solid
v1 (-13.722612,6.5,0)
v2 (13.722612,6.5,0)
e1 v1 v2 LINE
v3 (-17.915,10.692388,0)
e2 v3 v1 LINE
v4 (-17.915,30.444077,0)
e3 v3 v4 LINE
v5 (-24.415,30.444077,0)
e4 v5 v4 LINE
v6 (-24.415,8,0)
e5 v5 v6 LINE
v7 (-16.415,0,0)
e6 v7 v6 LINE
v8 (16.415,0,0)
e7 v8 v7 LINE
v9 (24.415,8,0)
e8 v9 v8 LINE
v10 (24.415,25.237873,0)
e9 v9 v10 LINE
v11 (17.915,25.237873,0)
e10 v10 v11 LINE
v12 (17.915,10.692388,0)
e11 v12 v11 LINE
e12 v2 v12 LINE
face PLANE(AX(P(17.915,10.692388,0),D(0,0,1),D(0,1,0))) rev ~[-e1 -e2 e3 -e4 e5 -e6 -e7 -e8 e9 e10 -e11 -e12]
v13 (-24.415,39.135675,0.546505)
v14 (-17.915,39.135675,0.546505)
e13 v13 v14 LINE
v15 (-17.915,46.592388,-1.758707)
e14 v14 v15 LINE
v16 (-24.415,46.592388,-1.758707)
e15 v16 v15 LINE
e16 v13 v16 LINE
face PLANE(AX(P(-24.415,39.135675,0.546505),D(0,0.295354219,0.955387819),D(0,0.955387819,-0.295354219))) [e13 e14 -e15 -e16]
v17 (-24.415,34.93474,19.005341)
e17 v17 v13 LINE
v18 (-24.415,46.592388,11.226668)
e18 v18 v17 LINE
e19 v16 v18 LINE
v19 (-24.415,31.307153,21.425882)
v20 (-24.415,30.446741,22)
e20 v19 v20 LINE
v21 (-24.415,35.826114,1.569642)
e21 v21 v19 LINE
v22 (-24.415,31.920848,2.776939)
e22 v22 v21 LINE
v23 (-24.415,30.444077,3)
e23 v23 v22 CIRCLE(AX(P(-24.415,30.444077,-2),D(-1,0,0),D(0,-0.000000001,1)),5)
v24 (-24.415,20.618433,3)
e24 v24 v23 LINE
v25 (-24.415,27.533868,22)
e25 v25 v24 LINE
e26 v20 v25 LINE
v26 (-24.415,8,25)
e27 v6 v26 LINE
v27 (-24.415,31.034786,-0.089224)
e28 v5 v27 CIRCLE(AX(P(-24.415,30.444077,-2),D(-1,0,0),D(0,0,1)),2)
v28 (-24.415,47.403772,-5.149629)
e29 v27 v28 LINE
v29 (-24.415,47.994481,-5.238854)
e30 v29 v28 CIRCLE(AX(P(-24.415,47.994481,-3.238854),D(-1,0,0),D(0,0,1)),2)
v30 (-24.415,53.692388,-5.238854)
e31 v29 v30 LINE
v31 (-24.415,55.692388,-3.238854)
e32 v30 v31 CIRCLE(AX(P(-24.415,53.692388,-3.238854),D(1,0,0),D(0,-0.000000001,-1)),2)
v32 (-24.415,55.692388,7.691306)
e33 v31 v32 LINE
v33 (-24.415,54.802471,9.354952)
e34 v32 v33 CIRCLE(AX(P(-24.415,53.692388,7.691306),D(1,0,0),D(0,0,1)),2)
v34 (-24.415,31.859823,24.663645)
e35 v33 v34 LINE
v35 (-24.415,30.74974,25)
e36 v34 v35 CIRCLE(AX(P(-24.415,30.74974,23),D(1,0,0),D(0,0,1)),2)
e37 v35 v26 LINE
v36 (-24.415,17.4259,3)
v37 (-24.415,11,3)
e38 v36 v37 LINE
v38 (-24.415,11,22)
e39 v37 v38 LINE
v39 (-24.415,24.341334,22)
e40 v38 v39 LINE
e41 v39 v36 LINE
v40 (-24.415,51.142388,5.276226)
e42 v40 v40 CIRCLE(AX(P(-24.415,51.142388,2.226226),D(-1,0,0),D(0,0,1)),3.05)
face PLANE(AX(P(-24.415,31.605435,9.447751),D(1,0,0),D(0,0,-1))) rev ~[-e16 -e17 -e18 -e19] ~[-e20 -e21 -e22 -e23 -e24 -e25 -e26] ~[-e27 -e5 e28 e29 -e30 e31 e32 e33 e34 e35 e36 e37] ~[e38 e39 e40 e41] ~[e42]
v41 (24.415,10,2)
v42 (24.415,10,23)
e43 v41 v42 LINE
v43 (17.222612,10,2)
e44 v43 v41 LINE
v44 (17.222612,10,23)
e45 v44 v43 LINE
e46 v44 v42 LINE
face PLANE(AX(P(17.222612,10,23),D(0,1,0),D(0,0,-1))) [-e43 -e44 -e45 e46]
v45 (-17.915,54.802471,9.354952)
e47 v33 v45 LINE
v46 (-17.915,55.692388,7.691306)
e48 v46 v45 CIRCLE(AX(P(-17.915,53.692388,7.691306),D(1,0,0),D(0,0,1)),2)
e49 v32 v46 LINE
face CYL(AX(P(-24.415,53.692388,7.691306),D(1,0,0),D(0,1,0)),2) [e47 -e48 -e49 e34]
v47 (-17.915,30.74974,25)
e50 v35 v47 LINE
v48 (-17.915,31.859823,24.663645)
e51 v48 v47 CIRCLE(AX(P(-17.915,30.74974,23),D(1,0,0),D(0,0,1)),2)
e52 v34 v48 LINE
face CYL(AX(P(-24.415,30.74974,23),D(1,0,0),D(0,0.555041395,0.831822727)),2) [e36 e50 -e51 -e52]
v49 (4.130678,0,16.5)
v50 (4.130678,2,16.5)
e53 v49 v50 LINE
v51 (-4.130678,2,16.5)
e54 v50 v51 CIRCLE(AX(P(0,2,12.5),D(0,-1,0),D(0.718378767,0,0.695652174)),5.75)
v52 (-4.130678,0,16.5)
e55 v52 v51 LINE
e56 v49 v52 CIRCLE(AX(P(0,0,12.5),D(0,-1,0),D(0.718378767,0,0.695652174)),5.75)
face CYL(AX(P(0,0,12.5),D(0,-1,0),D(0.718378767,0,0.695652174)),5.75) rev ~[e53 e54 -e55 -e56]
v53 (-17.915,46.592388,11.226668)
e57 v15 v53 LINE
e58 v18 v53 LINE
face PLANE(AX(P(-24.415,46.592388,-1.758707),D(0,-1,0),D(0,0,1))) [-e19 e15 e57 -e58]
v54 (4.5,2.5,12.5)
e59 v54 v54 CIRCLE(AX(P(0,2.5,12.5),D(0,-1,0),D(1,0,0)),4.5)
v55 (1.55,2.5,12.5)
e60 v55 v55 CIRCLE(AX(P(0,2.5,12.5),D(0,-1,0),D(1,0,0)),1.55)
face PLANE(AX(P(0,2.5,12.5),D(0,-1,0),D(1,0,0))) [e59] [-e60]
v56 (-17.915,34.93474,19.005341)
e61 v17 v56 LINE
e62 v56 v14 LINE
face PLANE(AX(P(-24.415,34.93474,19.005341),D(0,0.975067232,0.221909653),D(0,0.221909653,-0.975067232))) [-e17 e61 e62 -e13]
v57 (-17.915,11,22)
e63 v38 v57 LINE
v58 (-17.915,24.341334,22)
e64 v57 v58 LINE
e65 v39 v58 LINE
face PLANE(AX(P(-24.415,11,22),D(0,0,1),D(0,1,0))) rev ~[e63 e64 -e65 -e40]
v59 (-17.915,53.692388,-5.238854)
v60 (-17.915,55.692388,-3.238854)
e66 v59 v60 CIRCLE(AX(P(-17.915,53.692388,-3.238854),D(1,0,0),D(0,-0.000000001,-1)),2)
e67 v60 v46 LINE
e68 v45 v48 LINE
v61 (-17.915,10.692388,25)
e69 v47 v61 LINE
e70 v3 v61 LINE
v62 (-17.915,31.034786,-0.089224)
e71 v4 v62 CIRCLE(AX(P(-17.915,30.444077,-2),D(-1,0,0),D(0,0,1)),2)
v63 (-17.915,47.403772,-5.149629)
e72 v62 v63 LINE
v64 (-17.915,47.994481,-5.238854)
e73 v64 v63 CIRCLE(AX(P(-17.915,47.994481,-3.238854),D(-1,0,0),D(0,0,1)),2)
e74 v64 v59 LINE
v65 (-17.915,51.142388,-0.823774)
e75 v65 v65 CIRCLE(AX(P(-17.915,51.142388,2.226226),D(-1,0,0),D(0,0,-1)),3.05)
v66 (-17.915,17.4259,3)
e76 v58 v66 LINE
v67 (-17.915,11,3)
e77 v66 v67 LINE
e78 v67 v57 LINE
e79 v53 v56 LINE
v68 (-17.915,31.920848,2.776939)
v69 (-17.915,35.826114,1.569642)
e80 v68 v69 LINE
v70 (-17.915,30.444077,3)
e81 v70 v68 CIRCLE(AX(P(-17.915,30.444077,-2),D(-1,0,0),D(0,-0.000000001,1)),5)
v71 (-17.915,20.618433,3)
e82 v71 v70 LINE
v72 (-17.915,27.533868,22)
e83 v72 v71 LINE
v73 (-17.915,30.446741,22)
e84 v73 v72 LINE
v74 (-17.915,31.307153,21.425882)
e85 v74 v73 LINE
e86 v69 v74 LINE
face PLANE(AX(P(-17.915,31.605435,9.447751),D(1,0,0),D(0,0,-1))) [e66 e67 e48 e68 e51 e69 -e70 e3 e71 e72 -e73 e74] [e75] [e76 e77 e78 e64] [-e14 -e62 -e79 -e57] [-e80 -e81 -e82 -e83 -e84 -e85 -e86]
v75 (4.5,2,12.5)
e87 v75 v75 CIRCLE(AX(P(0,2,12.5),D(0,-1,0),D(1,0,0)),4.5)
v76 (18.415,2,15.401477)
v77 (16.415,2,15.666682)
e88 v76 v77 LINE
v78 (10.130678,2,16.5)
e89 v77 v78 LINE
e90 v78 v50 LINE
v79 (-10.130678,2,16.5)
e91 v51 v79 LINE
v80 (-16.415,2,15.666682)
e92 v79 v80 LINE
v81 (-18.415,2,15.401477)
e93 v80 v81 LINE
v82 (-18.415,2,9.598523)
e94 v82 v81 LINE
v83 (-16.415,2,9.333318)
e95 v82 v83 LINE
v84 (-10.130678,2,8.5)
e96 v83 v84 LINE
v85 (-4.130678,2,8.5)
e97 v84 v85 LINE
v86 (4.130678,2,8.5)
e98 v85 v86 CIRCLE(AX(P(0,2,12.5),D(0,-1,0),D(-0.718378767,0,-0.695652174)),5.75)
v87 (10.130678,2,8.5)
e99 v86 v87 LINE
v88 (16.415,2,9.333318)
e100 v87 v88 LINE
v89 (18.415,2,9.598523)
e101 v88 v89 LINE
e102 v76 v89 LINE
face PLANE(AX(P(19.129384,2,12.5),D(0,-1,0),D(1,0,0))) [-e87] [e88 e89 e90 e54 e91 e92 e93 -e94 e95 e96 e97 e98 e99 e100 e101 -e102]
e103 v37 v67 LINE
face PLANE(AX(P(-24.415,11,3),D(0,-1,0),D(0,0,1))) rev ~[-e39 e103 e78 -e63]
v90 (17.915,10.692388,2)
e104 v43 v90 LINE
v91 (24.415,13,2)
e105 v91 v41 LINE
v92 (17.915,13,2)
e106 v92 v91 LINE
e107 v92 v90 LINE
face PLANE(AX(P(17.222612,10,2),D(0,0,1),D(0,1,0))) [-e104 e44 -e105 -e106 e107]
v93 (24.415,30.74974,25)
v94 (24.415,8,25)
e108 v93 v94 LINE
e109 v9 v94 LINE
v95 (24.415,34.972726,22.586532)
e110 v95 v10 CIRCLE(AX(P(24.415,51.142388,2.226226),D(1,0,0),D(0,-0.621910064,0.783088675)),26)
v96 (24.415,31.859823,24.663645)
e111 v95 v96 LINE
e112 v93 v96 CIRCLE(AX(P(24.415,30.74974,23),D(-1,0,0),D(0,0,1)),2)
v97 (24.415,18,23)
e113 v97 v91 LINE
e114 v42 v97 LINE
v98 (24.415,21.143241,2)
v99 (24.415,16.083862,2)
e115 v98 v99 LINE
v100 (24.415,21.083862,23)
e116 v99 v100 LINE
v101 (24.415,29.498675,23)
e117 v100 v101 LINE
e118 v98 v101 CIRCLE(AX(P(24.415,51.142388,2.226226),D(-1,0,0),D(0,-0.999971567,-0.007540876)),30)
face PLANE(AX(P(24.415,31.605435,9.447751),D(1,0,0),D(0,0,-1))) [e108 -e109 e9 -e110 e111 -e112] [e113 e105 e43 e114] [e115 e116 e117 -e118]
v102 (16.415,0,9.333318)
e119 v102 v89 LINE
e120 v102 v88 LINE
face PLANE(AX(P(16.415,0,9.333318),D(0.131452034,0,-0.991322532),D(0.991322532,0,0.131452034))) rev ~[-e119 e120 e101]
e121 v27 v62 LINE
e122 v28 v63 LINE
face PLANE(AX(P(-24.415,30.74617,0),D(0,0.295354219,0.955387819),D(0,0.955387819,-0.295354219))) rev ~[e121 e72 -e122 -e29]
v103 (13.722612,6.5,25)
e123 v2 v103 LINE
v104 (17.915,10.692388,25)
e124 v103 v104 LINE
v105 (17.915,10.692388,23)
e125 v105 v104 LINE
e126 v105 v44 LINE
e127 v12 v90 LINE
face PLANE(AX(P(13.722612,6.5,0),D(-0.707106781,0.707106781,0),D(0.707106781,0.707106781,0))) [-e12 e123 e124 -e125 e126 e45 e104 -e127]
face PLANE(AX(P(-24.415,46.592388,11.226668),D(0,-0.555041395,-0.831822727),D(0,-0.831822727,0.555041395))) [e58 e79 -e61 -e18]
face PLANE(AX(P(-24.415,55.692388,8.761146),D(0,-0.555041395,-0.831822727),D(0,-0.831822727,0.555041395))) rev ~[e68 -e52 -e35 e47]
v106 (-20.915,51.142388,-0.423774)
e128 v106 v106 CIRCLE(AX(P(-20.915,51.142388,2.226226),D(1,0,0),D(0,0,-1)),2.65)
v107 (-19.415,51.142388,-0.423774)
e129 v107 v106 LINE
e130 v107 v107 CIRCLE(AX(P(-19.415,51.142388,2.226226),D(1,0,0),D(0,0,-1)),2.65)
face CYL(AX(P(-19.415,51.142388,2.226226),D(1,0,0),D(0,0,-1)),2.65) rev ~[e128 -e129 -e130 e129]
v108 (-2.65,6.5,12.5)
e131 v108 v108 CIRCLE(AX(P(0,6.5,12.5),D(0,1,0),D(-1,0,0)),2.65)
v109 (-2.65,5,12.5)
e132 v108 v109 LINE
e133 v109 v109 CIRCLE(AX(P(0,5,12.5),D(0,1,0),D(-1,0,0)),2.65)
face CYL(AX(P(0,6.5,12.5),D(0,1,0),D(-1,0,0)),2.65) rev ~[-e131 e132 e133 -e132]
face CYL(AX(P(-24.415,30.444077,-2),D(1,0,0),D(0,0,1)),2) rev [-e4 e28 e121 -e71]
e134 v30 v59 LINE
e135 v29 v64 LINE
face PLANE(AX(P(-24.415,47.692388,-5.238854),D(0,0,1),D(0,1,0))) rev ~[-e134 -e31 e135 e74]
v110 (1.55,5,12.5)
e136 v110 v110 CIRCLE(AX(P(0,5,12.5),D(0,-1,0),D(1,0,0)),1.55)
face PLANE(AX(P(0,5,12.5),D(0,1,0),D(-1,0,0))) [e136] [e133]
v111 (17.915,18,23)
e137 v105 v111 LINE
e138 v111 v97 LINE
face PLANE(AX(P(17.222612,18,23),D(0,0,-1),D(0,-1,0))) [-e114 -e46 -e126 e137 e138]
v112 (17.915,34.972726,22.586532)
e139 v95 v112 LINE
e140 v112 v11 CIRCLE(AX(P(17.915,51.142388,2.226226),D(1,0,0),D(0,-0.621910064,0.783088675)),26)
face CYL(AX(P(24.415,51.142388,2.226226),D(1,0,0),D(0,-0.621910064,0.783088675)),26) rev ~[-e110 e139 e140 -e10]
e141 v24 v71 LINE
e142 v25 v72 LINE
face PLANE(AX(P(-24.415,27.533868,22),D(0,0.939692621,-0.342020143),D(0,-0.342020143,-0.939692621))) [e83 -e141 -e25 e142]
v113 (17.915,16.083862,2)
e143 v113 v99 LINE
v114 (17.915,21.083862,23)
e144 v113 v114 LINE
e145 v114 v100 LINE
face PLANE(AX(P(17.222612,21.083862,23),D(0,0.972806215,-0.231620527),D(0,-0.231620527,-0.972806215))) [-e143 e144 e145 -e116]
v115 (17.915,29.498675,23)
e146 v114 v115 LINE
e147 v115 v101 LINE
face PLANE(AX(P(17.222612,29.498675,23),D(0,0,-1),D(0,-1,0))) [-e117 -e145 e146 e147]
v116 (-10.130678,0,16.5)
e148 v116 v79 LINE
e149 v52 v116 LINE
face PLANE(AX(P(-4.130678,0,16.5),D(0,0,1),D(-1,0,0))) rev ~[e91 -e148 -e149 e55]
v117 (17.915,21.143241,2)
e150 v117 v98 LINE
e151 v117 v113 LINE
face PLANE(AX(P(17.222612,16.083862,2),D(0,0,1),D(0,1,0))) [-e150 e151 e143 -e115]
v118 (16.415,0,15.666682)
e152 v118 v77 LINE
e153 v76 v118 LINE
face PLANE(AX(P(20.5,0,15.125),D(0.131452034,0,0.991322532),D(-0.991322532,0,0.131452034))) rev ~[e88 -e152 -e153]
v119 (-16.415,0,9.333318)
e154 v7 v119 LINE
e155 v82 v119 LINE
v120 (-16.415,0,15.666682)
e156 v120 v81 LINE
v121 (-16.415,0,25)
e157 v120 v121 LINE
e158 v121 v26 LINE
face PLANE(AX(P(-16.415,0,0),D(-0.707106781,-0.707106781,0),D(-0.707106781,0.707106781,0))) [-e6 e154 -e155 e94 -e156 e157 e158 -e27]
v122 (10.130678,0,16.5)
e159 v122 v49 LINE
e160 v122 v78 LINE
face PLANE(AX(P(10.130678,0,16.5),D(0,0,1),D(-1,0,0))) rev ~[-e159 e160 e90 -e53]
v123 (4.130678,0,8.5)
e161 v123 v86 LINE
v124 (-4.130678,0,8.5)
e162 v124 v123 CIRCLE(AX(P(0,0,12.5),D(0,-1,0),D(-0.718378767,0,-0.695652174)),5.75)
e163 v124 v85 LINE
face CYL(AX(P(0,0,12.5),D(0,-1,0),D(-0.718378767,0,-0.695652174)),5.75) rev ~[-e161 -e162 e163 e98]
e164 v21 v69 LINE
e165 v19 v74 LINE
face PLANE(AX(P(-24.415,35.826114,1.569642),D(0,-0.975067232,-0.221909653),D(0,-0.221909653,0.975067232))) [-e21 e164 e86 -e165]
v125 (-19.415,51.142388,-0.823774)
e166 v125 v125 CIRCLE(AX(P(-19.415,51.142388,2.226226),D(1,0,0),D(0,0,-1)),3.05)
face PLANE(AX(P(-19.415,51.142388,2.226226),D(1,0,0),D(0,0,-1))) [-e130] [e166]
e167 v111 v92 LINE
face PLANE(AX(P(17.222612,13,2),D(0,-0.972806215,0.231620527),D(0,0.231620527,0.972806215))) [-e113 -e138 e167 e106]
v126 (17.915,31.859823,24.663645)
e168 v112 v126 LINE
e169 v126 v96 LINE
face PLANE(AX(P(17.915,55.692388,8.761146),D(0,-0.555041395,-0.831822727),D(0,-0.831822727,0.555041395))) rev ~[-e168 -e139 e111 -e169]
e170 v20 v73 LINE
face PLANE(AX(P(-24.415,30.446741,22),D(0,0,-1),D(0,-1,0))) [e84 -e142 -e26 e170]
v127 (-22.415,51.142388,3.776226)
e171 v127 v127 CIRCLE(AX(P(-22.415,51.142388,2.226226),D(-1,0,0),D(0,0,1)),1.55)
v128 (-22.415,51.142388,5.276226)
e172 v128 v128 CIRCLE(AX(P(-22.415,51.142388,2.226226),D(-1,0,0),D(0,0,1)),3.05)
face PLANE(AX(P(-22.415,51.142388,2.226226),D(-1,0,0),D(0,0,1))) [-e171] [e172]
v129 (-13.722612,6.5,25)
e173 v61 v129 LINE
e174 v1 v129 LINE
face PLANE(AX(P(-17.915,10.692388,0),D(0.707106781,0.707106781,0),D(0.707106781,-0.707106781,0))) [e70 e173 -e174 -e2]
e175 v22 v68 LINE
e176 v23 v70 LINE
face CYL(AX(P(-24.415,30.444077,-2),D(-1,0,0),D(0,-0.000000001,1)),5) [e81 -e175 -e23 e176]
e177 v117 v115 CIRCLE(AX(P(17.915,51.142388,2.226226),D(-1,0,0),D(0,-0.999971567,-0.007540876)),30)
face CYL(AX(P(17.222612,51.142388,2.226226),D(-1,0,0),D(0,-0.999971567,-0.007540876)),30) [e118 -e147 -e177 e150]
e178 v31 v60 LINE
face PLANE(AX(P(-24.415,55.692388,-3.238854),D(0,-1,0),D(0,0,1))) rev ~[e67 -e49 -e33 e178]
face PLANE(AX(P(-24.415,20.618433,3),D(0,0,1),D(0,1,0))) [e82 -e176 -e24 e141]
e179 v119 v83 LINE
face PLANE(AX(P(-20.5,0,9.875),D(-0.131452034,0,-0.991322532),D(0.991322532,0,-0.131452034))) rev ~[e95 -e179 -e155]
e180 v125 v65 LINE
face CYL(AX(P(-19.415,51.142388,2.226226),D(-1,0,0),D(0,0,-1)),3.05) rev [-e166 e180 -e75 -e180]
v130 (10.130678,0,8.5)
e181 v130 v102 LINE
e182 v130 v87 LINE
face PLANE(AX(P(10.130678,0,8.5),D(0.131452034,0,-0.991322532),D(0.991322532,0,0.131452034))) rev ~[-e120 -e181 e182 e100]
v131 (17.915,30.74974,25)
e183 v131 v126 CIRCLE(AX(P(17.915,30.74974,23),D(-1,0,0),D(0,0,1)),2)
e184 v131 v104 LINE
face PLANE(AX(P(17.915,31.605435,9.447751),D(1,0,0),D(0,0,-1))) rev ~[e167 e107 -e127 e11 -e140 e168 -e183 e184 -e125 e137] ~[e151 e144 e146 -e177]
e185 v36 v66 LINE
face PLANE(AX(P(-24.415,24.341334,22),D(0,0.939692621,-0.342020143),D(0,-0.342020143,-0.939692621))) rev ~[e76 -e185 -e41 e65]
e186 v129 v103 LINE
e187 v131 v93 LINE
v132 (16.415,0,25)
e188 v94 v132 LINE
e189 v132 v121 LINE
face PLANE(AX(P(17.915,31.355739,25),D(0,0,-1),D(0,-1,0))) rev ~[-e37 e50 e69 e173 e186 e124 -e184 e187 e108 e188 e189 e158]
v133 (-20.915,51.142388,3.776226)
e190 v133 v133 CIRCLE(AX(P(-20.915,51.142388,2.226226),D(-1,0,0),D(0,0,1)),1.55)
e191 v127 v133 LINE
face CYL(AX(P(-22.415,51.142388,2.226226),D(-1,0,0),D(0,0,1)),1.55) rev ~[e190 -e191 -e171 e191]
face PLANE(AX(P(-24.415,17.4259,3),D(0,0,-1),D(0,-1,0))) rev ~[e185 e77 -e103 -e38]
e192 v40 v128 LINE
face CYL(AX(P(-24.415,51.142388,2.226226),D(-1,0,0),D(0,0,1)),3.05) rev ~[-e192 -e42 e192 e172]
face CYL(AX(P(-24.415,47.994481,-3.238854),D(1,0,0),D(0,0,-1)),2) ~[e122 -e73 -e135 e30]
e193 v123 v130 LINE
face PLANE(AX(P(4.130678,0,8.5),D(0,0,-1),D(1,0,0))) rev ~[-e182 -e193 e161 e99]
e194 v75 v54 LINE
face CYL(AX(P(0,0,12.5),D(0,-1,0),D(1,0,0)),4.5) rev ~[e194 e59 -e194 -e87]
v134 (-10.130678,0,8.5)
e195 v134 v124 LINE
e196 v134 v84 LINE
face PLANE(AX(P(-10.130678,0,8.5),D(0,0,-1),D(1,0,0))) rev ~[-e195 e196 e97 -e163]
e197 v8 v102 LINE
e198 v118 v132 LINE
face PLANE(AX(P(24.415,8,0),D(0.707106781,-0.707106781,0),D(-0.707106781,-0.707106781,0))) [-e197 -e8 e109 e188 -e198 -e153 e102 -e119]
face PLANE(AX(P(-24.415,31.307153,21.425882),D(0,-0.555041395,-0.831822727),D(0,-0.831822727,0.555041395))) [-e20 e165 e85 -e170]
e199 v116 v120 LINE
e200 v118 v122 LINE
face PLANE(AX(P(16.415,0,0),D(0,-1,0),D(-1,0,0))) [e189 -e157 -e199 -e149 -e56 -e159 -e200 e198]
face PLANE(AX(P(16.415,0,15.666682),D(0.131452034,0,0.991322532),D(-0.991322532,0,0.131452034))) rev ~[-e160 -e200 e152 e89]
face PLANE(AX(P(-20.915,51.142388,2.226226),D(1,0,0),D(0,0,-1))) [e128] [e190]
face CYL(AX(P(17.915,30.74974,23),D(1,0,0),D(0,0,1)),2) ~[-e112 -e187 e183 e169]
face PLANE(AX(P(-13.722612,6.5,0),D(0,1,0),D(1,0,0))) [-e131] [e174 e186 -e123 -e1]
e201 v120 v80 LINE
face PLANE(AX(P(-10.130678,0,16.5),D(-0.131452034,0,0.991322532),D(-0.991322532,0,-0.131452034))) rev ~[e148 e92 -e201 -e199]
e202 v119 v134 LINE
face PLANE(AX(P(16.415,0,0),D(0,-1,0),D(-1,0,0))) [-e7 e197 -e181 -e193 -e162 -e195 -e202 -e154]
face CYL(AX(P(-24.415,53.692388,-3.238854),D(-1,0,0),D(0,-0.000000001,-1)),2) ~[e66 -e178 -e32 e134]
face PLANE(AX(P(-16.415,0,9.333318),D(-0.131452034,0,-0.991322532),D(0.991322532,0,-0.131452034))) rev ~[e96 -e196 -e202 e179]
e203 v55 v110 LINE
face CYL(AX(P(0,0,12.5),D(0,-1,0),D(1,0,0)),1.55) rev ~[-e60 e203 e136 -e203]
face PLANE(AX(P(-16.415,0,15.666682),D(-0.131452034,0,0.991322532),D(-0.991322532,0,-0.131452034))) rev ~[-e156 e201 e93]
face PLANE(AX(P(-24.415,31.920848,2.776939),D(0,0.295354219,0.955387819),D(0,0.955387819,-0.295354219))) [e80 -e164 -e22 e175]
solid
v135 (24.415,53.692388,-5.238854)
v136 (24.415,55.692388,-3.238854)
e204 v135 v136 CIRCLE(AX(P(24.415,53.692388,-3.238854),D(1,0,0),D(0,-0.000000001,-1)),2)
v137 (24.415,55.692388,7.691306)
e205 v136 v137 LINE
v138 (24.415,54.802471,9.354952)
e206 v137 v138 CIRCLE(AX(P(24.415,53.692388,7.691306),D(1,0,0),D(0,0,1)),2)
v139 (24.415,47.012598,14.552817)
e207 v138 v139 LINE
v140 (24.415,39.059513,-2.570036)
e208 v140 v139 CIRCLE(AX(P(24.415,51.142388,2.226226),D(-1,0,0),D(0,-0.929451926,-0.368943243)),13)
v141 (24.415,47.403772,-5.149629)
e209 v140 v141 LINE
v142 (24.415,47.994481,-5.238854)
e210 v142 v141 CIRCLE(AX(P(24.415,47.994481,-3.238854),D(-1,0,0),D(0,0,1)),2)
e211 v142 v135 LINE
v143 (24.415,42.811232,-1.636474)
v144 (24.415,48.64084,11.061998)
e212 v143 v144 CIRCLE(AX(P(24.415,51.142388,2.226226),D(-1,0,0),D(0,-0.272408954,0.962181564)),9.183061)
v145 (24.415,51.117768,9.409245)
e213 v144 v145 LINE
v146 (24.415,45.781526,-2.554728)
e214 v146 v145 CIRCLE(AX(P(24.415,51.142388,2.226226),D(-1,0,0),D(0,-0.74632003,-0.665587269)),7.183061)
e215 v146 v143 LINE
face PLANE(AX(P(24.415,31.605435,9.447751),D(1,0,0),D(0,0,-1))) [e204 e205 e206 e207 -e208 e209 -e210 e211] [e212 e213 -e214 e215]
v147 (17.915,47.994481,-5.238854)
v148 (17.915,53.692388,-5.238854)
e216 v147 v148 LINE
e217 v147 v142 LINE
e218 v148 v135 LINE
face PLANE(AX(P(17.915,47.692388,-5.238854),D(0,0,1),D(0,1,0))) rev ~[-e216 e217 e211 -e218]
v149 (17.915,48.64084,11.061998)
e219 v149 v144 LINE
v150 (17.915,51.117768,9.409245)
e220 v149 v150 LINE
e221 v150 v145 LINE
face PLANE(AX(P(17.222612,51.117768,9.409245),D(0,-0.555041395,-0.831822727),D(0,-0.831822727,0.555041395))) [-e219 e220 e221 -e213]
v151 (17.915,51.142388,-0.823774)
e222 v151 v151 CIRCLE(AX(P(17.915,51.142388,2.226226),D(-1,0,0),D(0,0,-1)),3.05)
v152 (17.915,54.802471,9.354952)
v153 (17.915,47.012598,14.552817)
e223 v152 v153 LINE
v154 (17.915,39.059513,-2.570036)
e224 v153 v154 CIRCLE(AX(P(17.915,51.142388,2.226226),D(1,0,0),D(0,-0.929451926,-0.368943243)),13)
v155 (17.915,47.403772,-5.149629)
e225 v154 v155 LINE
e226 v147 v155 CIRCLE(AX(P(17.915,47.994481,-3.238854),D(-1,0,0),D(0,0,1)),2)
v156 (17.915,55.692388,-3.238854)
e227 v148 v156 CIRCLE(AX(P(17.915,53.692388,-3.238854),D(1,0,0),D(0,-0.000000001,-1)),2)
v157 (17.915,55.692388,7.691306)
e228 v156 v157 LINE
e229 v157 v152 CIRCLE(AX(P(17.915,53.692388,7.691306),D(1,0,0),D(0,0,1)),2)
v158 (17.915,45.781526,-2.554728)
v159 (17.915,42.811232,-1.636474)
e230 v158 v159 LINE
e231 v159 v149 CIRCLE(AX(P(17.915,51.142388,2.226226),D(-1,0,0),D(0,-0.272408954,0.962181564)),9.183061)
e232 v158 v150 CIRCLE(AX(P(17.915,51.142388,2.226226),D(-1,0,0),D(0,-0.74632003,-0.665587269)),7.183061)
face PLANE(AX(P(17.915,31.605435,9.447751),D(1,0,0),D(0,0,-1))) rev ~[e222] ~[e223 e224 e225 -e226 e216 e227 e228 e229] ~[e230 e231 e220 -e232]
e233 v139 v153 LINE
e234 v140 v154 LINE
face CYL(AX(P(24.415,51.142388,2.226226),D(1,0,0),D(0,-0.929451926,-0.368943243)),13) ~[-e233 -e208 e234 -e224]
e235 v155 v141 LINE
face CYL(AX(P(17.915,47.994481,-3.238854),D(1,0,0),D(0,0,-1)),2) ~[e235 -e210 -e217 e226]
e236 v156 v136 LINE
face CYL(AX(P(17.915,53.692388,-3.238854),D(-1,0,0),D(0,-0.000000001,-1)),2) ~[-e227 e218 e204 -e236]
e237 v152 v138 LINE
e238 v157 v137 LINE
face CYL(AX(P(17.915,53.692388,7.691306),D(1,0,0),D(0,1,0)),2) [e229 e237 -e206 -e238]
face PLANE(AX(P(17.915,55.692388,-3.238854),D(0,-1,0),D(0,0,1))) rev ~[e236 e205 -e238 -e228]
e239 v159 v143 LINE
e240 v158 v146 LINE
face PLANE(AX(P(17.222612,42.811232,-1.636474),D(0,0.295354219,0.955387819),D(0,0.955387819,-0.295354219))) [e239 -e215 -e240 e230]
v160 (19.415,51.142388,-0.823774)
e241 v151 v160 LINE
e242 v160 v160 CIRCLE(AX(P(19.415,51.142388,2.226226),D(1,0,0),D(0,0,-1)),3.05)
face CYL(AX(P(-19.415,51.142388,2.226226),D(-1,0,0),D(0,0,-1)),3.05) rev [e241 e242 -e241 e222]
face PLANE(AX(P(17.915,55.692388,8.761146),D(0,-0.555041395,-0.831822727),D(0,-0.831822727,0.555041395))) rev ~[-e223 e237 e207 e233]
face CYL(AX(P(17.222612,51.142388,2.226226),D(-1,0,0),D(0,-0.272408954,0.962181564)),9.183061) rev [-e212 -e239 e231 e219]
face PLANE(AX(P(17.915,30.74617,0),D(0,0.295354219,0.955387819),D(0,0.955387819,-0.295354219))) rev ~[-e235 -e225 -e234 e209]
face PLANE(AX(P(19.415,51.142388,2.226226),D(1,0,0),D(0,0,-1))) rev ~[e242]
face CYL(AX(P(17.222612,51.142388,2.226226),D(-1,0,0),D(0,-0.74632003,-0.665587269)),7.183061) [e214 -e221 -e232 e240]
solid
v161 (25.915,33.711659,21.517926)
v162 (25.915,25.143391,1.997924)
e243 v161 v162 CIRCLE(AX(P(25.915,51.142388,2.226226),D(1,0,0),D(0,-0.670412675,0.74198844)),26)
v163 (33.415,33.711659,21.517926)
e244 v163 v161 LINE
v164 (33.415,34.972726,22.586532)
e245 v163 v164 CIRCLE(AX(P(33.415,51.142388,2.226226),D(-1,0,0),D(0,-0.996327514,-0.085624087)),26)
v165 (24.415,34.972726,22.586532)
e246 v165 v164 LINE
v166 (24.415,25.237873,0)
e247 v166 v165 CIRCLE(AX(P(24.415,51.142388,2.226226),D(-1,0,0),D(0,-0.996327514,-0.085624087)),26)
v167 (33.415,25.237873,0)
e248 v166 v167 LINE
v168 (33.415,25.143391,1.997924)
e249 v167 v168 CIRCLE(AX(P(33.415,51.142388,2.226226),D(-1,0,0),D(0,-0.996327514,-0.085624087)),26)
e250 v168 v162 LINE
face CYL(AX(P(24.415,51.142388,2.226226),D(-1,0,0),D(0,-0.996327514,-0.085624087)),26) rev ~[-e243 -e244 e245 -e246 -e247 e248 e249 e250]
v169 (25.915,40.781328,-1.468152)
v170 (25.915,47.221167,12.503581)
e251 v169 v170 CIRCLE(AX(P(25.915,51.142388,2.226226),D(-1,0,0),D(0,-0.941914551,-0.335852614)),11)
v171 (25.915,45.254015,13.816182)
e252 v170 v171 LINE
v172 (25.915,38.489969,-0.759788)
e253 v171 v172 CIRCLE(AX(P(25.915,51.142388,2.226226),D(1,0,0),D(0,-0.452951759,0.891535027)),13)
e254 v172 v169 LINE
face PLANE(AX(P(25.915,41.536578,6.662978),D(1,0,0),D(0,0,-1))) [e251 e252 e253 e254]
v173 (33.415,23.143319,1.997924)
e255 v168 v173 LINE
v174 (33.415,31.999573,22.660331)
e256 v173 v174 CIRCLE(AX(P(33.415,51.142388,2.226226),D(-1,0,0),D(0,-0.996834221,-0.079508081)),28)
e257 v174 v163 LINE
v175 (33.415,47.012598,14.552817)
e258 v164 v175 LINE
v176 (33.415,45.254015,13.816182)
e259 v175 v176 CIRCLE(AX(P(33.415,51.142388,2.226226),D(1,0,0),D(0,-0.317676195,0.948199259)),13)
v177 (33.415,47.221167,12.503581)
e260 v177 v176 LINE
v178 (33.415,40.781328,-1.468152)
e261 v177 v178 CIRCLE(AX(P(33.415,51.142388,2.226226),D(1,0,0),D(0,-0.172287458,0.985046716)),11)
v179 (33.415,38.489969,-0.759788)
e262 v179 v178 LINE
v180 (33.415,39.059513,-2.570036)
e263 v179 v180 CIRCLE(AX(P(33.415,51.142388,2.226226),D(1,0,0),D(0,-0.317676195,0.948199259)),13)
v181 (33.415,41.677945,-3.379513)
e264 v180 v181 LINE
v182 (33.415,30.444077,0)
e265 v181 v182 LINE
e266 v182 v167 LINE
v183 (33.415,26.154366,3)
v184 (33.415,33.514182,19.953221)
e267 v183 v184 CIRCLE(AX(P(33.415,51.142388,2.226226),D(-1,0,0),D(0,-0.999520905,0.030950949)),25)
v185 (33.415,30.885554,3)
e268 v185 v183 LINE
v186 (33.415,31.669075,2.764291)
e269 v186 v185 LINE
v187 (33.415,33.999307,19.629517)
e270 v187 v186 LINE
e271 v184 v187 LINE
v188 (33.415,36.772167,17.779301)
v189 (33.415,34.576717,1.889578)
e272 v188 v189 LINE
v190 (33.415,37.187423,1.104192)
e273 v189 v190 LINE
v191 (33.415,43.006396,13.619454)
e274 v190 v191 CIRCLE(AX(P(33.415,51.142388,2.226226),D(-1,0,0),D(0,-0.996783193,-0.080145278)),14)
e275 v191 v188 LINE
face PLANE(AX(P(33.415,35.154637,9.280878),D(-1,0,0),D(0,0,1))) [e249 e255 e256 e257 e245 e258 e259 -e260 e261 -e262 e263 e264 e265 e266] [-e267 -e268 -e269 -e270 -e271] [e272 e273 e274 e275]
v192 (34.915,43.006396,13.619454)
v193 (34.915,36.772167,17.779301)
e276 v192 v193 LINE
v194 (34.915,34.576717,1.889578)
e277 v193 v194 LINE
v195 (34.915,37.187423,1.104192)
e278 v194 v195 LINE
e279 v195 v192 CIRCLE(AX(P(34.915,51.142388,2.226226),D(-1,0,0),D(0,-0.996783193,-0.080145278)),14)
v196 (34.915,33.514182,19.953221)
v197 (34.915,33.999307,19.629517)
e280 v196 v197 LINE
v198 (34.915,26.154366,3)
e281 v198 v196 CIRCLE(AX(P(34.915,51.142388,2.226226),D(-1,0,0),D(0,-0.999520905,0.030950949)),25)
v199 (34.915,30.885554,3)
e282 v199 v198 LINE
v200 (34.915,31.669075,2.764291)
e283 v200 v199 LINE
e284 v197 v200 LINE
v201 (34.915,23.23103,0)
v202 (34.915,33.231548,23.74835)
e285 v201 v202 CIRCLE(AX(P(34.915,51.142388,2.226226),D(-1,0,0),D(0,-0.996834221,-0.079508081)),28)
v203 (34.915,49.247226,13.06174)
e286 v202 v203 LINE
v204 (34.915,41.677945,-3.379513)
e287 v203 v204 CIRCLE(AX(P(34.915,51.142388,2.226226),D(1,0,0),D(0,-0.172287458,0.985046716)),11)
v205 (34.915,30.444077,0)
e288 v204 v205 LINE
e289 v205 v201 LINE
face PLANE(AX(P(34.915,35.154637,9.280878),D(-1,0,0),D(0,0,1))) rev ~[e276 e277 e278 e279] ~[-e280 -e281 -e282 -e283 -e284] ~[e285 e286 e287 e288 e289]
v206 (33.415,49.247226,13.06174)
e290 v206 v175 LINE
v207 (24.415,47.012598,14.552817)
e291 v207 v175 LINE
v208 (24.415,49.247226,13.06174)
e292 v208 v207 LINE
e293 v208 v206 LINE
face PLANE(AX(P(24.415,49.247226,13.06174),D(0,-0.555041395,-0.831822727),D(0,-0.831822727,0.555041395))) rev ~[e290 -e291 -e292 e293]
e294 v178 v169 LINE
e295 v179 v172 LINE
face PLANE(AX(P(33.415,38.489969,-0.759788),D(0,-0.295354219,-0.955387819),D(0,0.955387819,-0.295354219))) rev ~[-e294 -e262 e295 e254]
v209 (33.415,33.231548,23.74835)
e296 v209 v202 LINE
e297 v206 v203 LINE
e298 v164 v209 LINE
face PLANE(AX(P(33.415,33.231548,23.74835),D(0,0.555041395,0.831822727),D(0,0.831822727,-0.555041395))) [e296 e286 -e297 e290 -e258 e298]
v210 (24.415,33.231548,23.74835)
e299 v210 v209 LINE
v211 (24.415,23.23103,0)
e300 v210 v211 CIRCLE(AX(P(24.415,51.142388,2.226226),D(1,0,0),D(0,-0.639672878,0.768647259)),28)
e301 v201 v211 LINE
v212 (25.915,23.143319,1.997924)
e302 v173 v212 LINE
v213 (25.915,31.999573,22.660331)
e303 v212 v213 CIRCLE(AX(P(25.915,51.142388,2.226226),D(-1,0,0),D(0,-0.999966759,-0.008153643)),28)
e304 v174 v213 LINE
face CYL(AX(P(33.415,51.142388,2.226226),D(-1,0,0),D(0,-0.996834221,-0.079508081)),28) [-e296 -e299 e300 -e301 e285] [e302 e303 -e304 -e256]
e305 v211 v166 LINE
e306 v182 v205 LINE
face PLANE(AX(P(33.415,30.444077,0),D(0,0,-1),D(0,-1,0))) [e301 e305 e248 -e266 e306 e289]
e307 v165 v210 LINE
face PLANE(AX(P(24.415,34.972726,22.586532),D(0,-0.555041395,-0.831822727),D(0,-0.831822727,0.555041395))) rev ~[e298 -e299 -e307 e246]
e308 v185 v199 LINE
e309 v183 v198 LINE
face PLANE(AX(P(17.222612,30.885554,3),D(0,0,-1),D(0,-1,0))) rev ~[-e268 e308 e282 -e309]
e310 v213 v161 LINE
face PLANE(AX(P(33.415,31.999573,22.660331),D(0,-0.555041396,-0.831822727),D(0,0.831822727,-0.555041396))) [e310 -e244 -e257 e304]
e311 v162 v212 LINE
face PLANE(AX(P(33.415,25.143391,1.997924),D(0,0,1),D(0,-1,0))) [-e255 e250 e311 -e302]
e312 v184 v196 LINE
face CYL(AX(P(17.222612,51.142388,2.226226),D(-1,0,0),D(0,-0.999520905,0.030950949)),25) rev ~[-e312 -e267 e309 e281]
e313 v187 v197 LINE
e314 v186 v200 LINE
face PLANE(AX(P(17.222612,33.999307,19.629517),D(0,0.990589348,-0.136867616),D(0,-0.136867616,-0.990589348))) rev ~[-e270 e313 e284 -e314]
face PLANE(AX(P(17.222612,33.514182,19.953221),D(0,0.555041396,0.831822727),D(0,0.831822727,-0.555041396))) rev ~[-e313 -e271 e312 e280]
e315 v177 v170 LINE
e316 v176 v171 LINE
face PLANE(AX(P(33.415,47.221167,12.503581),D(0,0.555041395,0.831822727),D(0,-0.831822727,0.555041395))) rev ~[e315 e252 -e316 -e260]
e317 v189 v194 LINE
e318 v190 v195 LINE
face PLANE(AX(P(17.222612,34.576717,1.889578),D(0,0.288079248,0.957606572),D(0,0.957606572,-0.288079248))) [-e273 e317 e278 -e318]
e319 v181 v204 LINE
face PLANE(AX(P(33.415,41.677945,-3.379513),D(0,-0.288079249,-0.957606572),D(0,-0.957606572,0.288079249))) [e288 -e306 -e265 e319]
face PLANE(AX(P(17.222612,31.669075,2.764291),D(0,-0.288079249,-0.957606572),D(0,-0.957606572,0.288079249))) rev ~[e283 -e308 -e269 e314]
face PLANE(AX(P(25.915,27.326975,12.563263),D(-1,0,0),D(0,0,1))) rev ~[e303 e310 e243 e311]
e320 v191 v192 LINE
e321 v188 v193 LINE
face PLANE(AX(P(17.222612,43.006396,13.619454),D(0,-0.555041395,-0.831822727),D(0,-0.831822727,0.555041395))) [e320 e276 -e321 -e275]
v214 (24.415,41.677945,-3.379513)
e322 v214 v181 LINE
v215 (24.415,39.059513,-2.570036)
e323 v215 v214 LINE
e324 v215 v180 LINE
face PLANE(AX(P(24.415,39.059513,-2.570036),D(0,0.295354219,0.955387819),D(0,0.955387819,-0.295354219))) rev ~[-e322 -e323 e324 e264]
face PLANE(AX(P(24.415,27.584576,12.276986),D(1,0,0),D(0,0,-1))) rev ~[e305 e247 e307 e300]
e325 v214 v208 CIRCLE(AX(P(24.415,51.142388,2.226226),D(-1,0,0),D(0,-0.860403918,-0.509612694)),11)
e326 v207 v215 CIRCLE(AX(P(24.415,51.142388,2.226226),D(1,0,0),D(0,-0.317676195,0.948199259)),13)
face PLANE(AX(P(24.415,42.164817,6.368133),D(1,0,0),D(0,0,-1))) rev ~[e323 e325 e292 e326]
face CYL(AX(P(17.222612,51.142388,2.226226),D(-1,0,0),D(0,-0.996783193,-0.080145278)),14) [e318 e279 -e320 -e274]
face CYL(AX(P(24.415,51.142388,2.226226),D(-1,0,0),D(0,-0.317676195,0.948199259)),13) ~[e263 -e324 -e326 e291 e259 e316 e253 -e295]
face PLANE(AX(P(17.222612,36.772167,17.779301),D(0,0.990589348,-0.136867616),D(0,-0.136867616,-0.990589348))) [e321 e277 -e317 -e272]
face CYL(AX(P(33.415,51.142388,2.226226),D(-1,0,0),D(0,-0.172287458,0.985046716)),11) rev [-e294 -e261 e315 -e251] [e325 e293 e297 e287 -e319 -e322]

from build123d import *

# Parameters (mm, degrees)
BOSS_EXTRUDE1_DEPTH     = 25
BOSS_EXTRUDE2_DEPTH     = 6.5
BOSS_EXTRUDE3_START     = -6.5
BOSS_EXTRUDE3_DEPTH     = 6.5
FILLET1_R               = 2
CUT_EXTRUDE2_REACH      = 80.173
CUT_EXTRUDE1_DEPTH      = 37.33
CUT_EXTRUDE1_DEPTH_BACK = 1.5
SKETCH5_R               = 3.05
CUT_EXTRUDE3_REACH      = 80.173
BOSS_EXTRUDE5_DEPTH     = 9
BOSS_EXTRUDE5_2_DEPTH   = 9
CUT_EXTRUDE6_DEPTH      = 7.5
BOSS_EXTRUDE6_DEPTH     = 1.5
CUT_EXTRUDE4_START      = -17.692388
CUT_EXTRUDE4_DEPTH      = 17.692388
SKETCH13_R              = 3.05
CUT_EXTRUDE7_DEPTH      = 2
SKETCH15_R              = 1.55
CUT_EXTRUDE8_DEPTH      = 3
SKETCH12_R              = 4.5
CUT_EXTRUDE9_DEPTH      = 2
SKETCH12_3_R            = 1.55
CUT_EXTRUDE10_DEPTH     = 6.5
SKETCH12_5_R            = 4.5
SKETCH12_5_R_2          = 1.55
CUT_EXTRUDE11_DEPTH     = 2.5
SKETCH16_R              = 2.65
CUT_EXTRUDE12_DEPTH     = 1.5
SKETCH17_R              = 2.65
CUT_EXTRUDE13_DEPTH     = 1.5


with BuildPart() as part:
    # Sketch1 → Boss-Extrude1 (new body)
    with BuildSketch(Plane.XY):
        Polygon((16.415, 0), (-16.415, 0), (-24.415, 8), (-24.415, 10.692388155), (-17.915, 10.692388155), (-13.722611845, 6.5), (13.722611845, 6.5), (17.915, 10.692388155), (24.415, 10.692388155), (24.415, 8), align=None)
    extrude(amount=BOSS_EXTRUDE1_DEPTH)

    # Sketch2 → Boss-Extrude2 (add)
    with BuildSketch(Plane.ZY.offset(24.415)):
        with BuildLine():
            Line((8.761146261, 55.692388155), (25, 31.355739178))
            Line((25, 31.355739178), (25, 10.692388155))
            Line((25, 10.692388155), (0, 10.692388155))
            Line((0, 10.692388155), (0, 30.746169927))
            Line((0, 30.746169927), (-5.238853739, 47.692388155))
            Line((-5.238853739, 47.692388155), (-5.238853739, 53.692388155))
            ThreePointArc((-5.238853739, 53.692388155), (-4.653067302, 55.106601718), (-3.238853739, 55.692388155))
            Line((-3.238853739, 55.692388155), (8.761146261, 55.692388155))
        make_face()
    extrude(amount=-BOSS_EXTRUDE2_DEPTH)

    # Sketch3 → Boss-Extrude3 (add)
    with BuildSketch(Plane(origin=(24.415, 0, 0), x_dir=(0, 0, -1), z_dir=(1, 0, 0)).offset(BOSS_EXTRUDE3_START)):
        with BuildLine():
            Line((3.238853739, 55.692388155), (-8.761146261, 55.692388155))
            Line((-8.761146261, 55.692388155), (-25, 31.355739178))
            Line((-25, 31.355739178), (-25, 10.692388155))
            Line((-25, 10.692388155), (0, 10.692388155))
            Line((0, 10.692388155), (0, 30.746169927))
            Line((0, 30.746169927), (5.238853739, 47.692388155))
            Line((5.238853739, 47.692388155), (5.238853739, 53.692388155))
            ThreePointArc((5.238853739, 53.692388155), (4.653067302, 55.106601718), (3.238853739, 55.692388155))
        make_face()
    extrude(amount=BOSS_EXTRUDE3_DEPTH)

    # Fillet1
    fillet1_edges = [part.edges().sort_by_distance(p)[0] for p in [
        (-21.165, 30.746169927, 0),
        (-21.165, 47.692388155, -5.238853739),
        (-21.165, 55.692388155, 8.761146261),
        (-21.165, 31.355739178, 25),
        (21.165, 47.692388155, -5.238853739),
        (21.165, 30.746169927, 0),
        (21.165, 31.355739178, 25),
        (21.165, 55.692388155, 8.761146261),
    ]]
    fillet(fillet1_edges, radius=FILLET1_R)

    # Sketch6 → Cut-Extrude2 (cut, up to next)
    with BuildSketch(Plane.ZY.offset(24.415), mode=Mode.PRIVATE) as cut_extrude2_sk1:
        with BuildLine():
            Line((1.569642128, 35.826114392), (21.42588199, 31.307152875))
            Line((21.42588199, 31.307152875), (22, 30.446740637))
            Line((22, 30.446740637), (22, 27.533867699))
            Line((22, 27.533867699), (3, 20.618433248))
            Line((3, 20.618433248), (3, 30.444077201))
            ThreePointArc((3, 30.444077201), (2.943920281, 31.19083838), (2.776939097, 31.920848296))
            Line((2.776939097, 31.920848296), (1.569642128, 35.826114392))
        make_face()
    cut_extrude2_tool1 = extrude(cut_extrude2_sk1.sketch, amount=-CUT_EXTRUDE2_REACH, mode=Mode.PRIVATE) & part.part
    # Sketch6 → Cut-Extrude2 (cut, up to next)
    with BuildSketch(Plane.ZY.offset(24.415), mode=Mode.PRIVATE) as cut_extrude2_sk2:
        Polygon((3, 17.42589993), (3, 11), (22, 11), (22, 24.341334381), align=None)
    cut_extrude2_tool2 = extrude(cut_extrude2_sk2.sketch, amount=-CUT_EXTRUDE2_REACH, mode=Mode.PRIVATE) & part.part
    # Sketch6 → Cut-Extrude2 (cut, up to next)
    with BuildSketch(Plane.ZY.offset(24.415), mode=Mode.PRIVATE) as cut_extrude2_sk3:
        Polygon((11.226667615, 46.592388155), (19.005340922, 34.934740096), (0.546505101, 39.13567488), (-1.758707171, 46.592388155), align=None)
    cut_extrude2_tool3 = extrude(cut_extrude2_sk3.sketch, amount=-CUT_EXTRUDE2_REACH, mode=Mode.PRIVATE) & part.part
    add(cut_extrude2_tool1.solids().sort_by_distance((-24.415, 28.670214, 10.425803))[0], mode=Mode.SUBTRACT)
    add(cut_extrude2_tool2.solids().sort_by_distance((-24.415, 16.143418, 13.607837))[0], mode=Mode.SUBTRACT)
    add(cut_extrude2_tool3.solids().sort_by_distance((-24.415, 41.56792, 7.860318))[0], mode=Mode.SUBTRACT)

    # Sketch5 → Cut-Extrude1 (cut, two sides: drawn at the far end of the back side and taken through both)
    with BuildSketch(Plane(origin=(-17.915, 0, 0), x_dir=(0, 0, -1), z_dir=(1, 0, 0)).offset(-CUT_EXTRUDE1_DEPTH_BACK)):
        with Locations((-2.226226271, 51.142388155)):
            Circle(SKETCH5_R)
    extrude(amount=CUT_EXTRUDE1_DEPTH + CUT_EXTRUDE1_DEPTH_BACK, mode=Mode.SUBTRACT)

    # Sketch7 → Cut-Extrude3 (cut, up to next)
    with BuildSketch(Plane(origin=(24.415, 0, 0), x_dir=(0, 0, -1), z_dir=(1, 0, 0)), mode=Mode.PRIVATE) as cut_extrude3_sk1:
        with BuildLine():
            Line((-14.55281664, 47.012597619), (-22.586531815, 34.972726496))
            ThreePointArc((-22.586531815, 34.972726496), (-12.517147122, 27.265685116), (0, 25.237872785))
            Line((0, 25.237872785), (0, 30.444077201))
            ThreePointArc((0, 30.444077201), (0.022431888, 30.742781672), (0.089224361, 31.034785639))
            Line((0.089224361, 31.034785639), (0.821105182, 33.402214227))
            Line((0.821105182, 33.402214227), (2.570035889, 39.059513113))
            ThreePointArc((2.570035889, 39.059513113), (-7.702479463, 39.352110339), (-14.55281664, 47.012597619))
        make_face()
    cut_extrude3_tool1 = extrude(cut_extrude3_sk1.sketch, amount=-CUT_EXTRUDE3_REACH, mode=Mode.PRIVATE) & part.part
    add(cut_extrude3_tool1.solids().sort_by_distance((24.415, 34.21074, 9.961311))[0], mode=Mode.SUBTRACT)


with BuildPart() as cut_extrude3_piece_1:
    # of the separate pieces the step leaves, piece 1, a body of its own (cut_extrude3_pieces)
    add(part.part.solids().sort_by_distance((-24.415, 30.749740151, 25))[0])


with BuildPart() as cut_extrude3_piece_2:
    # of the separate pieces the step leaves, piece 2, a body of its own (cut_extrude3_pieces)
    add(part.part.solids().sort_by_distance((24.415, 39.059513113, -2.570035889))[0])


with BuildPart() as body_3:
    # Sketch7<4> → Boss-Extrude5 (new body)
    with BuildSketch(Plane(origin=(24.415, 0, 0), x_dir=(0, 0, -1), z_dir=(1, 0, 0))):
        with BuildLine():
            Line((-13.061740142, 49.247226116), (-14.55281664, 47.012597619))
            ThreePointArc((-14.55281664, 47.012597619), (-7.702479463, 39.352110339), (2.570035889, 39.059513113))
            Line((2.570035889, 39.059513113), (3.379513368, 41.67794506))
            ThreePointArc((3.379513368, 41.67794506), (-6.826350026, 41.150448332), (-13.061740142, 49.247226116))
        make_face()
    extrude(amount=BOSS_EXTRUDE5_DEPTH)


with BuildPart() as body_4:
    # Sketch7<4> → Boss-Extrude5 2 (new body)
    with BuildSketch(Plane(origin=(24.415, 0, 0), x_dir=(0, 0, -1), z_dir=(1, 0, 0))):
        with BuildLine():
            Line((-22.586531815, 34.972726496), (-23.74834953, 33.231547571))
            ThreePointArc((-23.74834953, 33.231547571), (-13.092941427, 25.337068903), (0, 23.231029955))
            Line((0, 23.231029955), (0, 25.237872785))
            ThreePointArc((0, 25.237872785), (-12.517147122, 27.265685116), (-22.586531815, 34.972726496))
        make_face()
    extrude(amount=BOSS_EXTRUDE5_2_DEPTH)


with BuildPart() as cut_extrude6_tool:
    # Sketch11 → Cut-Extrude6 (new body)
    with BuildSketch(Plane(origin=(33.415, 0, 0), x_dir=(0, 0, -1), z_dir=(1, 0, 0))):
        with BuildLine():
            Line((-12.503581313, 47.221167256), (-13.816181623, 45.254015295))
            ThreePointArc((-13.816181623, 45.254015295), (-7.698431629, 39.350231079), (0.759788142, 38.489968706))
            Line((0.759788142, 38.489968706), (1.468152482, 40.781328092))
            ThreePointArc((1.468152482, 40.781328092), (-6.830764936, 41.152482066), (-12.503581313, 47.221167256))
        make_face()
        with BuildLine():
            Line((-1.997924273, 25.143390517), (-1.997924273, 23.143318917))
            ThreePointArc((-1.997924273, 23.143318917), (-13.25695252, 25.406749861), (-22.660330699, 31.999572892))
            Line((-22.660330699, 31.999572892), (-21.517925704, 33.711658596))
            ThreePointArc((-21.517925704, 33.711658596), (-12.676445642, 27.334975127), (-1.997924273, 25.143390517))
        make_face()
    extrude(amount=-CUT_EXTRUDE6_DEPTH)


with BuildPart() as body_3_1:
    add(body_3.part)

    # Cut-Extrude6: cut by cut_extrude6_tool
    add(cut_extrude6_tool.part, mode=Mode.SUBTRACT)



with BuildPart() as body_4_1:
    add(body_4.part)

    # Cut-Extrude6: cut by cut_extrude6_tool
    add(cut_extrude6_tool.part, mode=Mode.SUBTRACT)


with BuildPart() as body_3_2:
    add(body_3_1.part)

    add(body_4_1.part)  # Boss-Extrude6 merges body 4
    # Sketch8 → Boss-Extrude6 (add)
    with BuildSketch(Plane(origin=(33.415, 0, 0), x_dir=(0, 0, -1), z_dir=(1, 0, 0))):
        with BuildLine():
            Line((3.379513368, 41.67794506), (0, 30.444077201))
            Line((0, 30.444077201), (0, 23.231029955))
            ThreePointArc((0, 23.231029955), (-13.092941427, 25.337068903), (-23.74834953, 33.231547571))
            Line((-23.74834953, 33.231547571), (-13.061740142, 49.247226116))
            ThreePointArc((-13.061740142, 49.247226116), (-6.826350026, 41.150448332), (3.379513368, 41.67794506))
        make_face()
    extrude(amount=BOSS_EXTRUDE6_DEPTH)


with BuildPart() as cut_extrude4_tool:
    # Sketch9 → Cut-Extrude4 (new body)
    with BuildSketch(Plane(origin=(34.915, 0, 0), x_dir=(0, 0, -1), z_dir=(1, 0, 0)).offset(CUT_EXTRUDE4_START)):
        with BuildLine():
            Line((1.63647369, 42.811232149), (2.554727759, 45.781525771))
            ThreePointArc((2.554727759, 45.781525771), (-5.152204716, 44.582280147), (-9.409245191, 51.117768242))
            Line((-9.409245191, 51.117768242), (-11.061998373, 48.640840086))
            ThreePointArc((-11.061998373, 48.640840086), (-6.057537249, 42.796750517), (1.63647369, 42.811232149))
        make_face()
        with BuildLine():
            Line((-17.77930117, 36.772166527), (-1.88957781, 34.576717357))
            Line((-1.88957781, 34.576717357), (-1.104192381, 37.187423449))
            ThreePointArc((-1.104192381, 37.187423449), (-8.128722858, 38.447486264), (-13.619453859, 43.006396198))
            Line((-13.619453859, 43.006396198), (-17.77930117, 36.772166527))
        make_face()
        with BuildLine():
            Line((-19.629517428, 33.999306796), (-2.764291486, 31.669074517))
            Line((-2.764291486, 31.669074517), (-3, 30.88555393))
            Line((-3, 30.88555393), (-3, 26.15436554))
            ThreePointArc((-3, 26.15436554), (-12.18169394, 28.210125653), (-19.95322132, 33.514182162))
            Line((-19.95322132, 33.514182162), (-19.629517428, 33.999306796))
        make_face()
        with BuildLine():
            Line((-23, 21.083861878), (-2, 16.083861878))
            Line((-2, 16.083861878), (-2, 21.14324114))
            ThreePointArc((-2, 21.14324114), (-13.316931605, 23.267735598), (-23, 29.498674864))
            Line((-23, 29.498674864), (-23, 21.083861878))
        make_face()
        Polygon((-23, 10), (-2, 10), (-2, 13), (-23, 18), align=None)
    extrude(amount=CUT_EXTRUDE4_DEPTH)


with BuildPart() as cut_extrude3_piece_1_1:
    add(cut_extrude3_piece_1.part)

    # Cut-Extrude4: cut by cut_extrude4_tool
    add(cut_extrude4_tool.part, mode=Mode.SUBTRACT)

    # Sketch13 → Cut-Extrude7 (cut)
    with BuildSketch(Plane.ZY.offset(24.415)):
        with Locations((2.226226271, 51.142388155)):
            Circle(SKETCH13_R)
    extrude(amount=-CUT_EXTRUDE7_DEPTH, mode=Mode.SUBTRACT)

    # Sketch15 → Cut-Extrude8 (cut)
    with BuildSketch(Plane.ZY.offset(22.415)):
        with Locations((2.226226271, 51.142388155)):
            Circle(SKETCH15_R)
    extrude(amount=-CUT_EXTRUDE8_DEPTH, mode=Mode.SUBTRACT)

    # Sketch12 → Cut-Extrude9 (cut)
    # profile 1 of 3: a face of its own
    with BuildSketch(Plane.XZ):
        with BuildLine():
            ThreePointArc((4.13067791, 16.5), (0, 18.25), (-4.13067791, 16.5))
            Line((-4.13067791, 16.5), (-10.13067791, 16.5))
            Line((-10.13067791, 16.5), (-16.415, 15.666681988))
            Line((-16.415, 15.666681988), (-16.415, 9.333318012))
            Line((-16.415, 9.333318012), (-10.13067791, 8.5))
            Line((-10.13067791, 8.5), (-4.13067791, 8.5))
            ThreePointArc((-4.13067791, 8.5), (0, 6.75), (4.13067791, 8.5))
            Line((4.13067791, 8.5), (10.13067791, 8.5))
            Line((10.13067791, 8.5), (16.415, 9.333318012))
            Line((16.415, 9.333318012), (16.415, 15.666681988))
            Line((16.415, 15.666681988), (10.13067791, 16.5))
            Line((10.13067791, 16.5), (4.13067791, 16.5))
        make_face()
        with Locations((0, 12.5)):
            Circle(SKETCH12_R, mode=Mode.SUBTRACT)
    # profile 2 of 3: a face of its own
    with BuildSketch(Plane.XZ):
        with BuildLine():
            Line((-16.415, 9.333318012), (-16.415, 15.666681988))
            Line((-16.415, 15.666681988), (-20.5, 15.125))
            ThreePointArc((-20.5, 15.125), (-23.125, 12.5), (-20.5, 9.875))
            Line((-20.5, 9.875), (-16.415, 9.333318012))
        make_face()
    # profile 3 of 3: a face of its own
    with BuildSketch(Plane.XZ):
        with BuildLine():
            Line((20.5, 15.125), (16.415, 15.666681988))
            Line((16.415, 15.666681988), (16.415, 9.333318012))
            Line((16.415, 9.333318012), (20.5, 9.875))
            ThreePointArc((20.5, 9.875), (23.125, 12.5), (20.5, 15.125))
        make_face()
    extrude(amount=-CUT_EXTRUDE9_DEPTH, mode=Mode.SUBTRACT)

    # Sketch12<3> → Cut-Extrude10 (cut)
    with BuildSketch(Plane.XZ):
        with Locations((0, 12.5)):
            Circle(SKETCH12_3_R)
    extrude(amount=-CUT_EXTRUDE10_DEPTH, mode=Mode.SUBTRACT)

    # Sketch12<5> → Cut-Extrude11 (cut)
    with BuildSketch(Plane.XZ):
        with Locations((0, 12.5)):
            Circle(SKETCH12_5_R)
        with Locations((0, 12.5)):
            Circle(SKETCH12_5_R_2, mode=Mode.SUBTRACT)
    extrude(amount=-CUT_EXTRUDE11_DEPTH, mode=Mode.SUBTRACT)

    # Sketch16 → Cut-Extrude12 (cut)
    with BuildSketch(Plane(origin=(0, 6.5, 0), x_dir=(1, 0, 0), z_dir=(0, 1, 0))):
        with Locations(Location((0, -12.5, 0), (0, 0, 180))):
            Circle(SKETCH16_R)
    extrude(amount=-CUT_EXTRUDE12_DEPTH, mode=Mode.SUBTRACT)

    # Sketch17 → Cut-Extrude13 (cut)
    with BuildSketch(Plane(origin=(-19.415, 0, 0), x_dir=(0, 0, -1), z_dir=(1, 0, 0))):
        with Locations((-2.226226271, 51.142388155)):
            Circle(SKETCH17_R)
    extrude(amount=-CUT_EXTRUDE13_DEPTH, mode=Mode.SUBTRACT)


with BuildPart() as cut_extrude3_piece_2_1:
    add(cut_extrude3_piece_2.part)

    # Cut-Extrude4: cut by cut_extrude4_tool
    add(cut_extrude4_tool.part, mode=Mode.SUBTRACT)


with BuildPart() as body_3_3:
    add(body_3_2.part)

    # Cut-Extrude4: cut by cut_extrude4_tool
    add(cut_extrude4_tool.part, mode=Mode.SUBTRACT)


solid = Compound([cut_extrude3_piece_1_1.part, cut_extrude3_piece_2_1.part, body_3_3.part])
